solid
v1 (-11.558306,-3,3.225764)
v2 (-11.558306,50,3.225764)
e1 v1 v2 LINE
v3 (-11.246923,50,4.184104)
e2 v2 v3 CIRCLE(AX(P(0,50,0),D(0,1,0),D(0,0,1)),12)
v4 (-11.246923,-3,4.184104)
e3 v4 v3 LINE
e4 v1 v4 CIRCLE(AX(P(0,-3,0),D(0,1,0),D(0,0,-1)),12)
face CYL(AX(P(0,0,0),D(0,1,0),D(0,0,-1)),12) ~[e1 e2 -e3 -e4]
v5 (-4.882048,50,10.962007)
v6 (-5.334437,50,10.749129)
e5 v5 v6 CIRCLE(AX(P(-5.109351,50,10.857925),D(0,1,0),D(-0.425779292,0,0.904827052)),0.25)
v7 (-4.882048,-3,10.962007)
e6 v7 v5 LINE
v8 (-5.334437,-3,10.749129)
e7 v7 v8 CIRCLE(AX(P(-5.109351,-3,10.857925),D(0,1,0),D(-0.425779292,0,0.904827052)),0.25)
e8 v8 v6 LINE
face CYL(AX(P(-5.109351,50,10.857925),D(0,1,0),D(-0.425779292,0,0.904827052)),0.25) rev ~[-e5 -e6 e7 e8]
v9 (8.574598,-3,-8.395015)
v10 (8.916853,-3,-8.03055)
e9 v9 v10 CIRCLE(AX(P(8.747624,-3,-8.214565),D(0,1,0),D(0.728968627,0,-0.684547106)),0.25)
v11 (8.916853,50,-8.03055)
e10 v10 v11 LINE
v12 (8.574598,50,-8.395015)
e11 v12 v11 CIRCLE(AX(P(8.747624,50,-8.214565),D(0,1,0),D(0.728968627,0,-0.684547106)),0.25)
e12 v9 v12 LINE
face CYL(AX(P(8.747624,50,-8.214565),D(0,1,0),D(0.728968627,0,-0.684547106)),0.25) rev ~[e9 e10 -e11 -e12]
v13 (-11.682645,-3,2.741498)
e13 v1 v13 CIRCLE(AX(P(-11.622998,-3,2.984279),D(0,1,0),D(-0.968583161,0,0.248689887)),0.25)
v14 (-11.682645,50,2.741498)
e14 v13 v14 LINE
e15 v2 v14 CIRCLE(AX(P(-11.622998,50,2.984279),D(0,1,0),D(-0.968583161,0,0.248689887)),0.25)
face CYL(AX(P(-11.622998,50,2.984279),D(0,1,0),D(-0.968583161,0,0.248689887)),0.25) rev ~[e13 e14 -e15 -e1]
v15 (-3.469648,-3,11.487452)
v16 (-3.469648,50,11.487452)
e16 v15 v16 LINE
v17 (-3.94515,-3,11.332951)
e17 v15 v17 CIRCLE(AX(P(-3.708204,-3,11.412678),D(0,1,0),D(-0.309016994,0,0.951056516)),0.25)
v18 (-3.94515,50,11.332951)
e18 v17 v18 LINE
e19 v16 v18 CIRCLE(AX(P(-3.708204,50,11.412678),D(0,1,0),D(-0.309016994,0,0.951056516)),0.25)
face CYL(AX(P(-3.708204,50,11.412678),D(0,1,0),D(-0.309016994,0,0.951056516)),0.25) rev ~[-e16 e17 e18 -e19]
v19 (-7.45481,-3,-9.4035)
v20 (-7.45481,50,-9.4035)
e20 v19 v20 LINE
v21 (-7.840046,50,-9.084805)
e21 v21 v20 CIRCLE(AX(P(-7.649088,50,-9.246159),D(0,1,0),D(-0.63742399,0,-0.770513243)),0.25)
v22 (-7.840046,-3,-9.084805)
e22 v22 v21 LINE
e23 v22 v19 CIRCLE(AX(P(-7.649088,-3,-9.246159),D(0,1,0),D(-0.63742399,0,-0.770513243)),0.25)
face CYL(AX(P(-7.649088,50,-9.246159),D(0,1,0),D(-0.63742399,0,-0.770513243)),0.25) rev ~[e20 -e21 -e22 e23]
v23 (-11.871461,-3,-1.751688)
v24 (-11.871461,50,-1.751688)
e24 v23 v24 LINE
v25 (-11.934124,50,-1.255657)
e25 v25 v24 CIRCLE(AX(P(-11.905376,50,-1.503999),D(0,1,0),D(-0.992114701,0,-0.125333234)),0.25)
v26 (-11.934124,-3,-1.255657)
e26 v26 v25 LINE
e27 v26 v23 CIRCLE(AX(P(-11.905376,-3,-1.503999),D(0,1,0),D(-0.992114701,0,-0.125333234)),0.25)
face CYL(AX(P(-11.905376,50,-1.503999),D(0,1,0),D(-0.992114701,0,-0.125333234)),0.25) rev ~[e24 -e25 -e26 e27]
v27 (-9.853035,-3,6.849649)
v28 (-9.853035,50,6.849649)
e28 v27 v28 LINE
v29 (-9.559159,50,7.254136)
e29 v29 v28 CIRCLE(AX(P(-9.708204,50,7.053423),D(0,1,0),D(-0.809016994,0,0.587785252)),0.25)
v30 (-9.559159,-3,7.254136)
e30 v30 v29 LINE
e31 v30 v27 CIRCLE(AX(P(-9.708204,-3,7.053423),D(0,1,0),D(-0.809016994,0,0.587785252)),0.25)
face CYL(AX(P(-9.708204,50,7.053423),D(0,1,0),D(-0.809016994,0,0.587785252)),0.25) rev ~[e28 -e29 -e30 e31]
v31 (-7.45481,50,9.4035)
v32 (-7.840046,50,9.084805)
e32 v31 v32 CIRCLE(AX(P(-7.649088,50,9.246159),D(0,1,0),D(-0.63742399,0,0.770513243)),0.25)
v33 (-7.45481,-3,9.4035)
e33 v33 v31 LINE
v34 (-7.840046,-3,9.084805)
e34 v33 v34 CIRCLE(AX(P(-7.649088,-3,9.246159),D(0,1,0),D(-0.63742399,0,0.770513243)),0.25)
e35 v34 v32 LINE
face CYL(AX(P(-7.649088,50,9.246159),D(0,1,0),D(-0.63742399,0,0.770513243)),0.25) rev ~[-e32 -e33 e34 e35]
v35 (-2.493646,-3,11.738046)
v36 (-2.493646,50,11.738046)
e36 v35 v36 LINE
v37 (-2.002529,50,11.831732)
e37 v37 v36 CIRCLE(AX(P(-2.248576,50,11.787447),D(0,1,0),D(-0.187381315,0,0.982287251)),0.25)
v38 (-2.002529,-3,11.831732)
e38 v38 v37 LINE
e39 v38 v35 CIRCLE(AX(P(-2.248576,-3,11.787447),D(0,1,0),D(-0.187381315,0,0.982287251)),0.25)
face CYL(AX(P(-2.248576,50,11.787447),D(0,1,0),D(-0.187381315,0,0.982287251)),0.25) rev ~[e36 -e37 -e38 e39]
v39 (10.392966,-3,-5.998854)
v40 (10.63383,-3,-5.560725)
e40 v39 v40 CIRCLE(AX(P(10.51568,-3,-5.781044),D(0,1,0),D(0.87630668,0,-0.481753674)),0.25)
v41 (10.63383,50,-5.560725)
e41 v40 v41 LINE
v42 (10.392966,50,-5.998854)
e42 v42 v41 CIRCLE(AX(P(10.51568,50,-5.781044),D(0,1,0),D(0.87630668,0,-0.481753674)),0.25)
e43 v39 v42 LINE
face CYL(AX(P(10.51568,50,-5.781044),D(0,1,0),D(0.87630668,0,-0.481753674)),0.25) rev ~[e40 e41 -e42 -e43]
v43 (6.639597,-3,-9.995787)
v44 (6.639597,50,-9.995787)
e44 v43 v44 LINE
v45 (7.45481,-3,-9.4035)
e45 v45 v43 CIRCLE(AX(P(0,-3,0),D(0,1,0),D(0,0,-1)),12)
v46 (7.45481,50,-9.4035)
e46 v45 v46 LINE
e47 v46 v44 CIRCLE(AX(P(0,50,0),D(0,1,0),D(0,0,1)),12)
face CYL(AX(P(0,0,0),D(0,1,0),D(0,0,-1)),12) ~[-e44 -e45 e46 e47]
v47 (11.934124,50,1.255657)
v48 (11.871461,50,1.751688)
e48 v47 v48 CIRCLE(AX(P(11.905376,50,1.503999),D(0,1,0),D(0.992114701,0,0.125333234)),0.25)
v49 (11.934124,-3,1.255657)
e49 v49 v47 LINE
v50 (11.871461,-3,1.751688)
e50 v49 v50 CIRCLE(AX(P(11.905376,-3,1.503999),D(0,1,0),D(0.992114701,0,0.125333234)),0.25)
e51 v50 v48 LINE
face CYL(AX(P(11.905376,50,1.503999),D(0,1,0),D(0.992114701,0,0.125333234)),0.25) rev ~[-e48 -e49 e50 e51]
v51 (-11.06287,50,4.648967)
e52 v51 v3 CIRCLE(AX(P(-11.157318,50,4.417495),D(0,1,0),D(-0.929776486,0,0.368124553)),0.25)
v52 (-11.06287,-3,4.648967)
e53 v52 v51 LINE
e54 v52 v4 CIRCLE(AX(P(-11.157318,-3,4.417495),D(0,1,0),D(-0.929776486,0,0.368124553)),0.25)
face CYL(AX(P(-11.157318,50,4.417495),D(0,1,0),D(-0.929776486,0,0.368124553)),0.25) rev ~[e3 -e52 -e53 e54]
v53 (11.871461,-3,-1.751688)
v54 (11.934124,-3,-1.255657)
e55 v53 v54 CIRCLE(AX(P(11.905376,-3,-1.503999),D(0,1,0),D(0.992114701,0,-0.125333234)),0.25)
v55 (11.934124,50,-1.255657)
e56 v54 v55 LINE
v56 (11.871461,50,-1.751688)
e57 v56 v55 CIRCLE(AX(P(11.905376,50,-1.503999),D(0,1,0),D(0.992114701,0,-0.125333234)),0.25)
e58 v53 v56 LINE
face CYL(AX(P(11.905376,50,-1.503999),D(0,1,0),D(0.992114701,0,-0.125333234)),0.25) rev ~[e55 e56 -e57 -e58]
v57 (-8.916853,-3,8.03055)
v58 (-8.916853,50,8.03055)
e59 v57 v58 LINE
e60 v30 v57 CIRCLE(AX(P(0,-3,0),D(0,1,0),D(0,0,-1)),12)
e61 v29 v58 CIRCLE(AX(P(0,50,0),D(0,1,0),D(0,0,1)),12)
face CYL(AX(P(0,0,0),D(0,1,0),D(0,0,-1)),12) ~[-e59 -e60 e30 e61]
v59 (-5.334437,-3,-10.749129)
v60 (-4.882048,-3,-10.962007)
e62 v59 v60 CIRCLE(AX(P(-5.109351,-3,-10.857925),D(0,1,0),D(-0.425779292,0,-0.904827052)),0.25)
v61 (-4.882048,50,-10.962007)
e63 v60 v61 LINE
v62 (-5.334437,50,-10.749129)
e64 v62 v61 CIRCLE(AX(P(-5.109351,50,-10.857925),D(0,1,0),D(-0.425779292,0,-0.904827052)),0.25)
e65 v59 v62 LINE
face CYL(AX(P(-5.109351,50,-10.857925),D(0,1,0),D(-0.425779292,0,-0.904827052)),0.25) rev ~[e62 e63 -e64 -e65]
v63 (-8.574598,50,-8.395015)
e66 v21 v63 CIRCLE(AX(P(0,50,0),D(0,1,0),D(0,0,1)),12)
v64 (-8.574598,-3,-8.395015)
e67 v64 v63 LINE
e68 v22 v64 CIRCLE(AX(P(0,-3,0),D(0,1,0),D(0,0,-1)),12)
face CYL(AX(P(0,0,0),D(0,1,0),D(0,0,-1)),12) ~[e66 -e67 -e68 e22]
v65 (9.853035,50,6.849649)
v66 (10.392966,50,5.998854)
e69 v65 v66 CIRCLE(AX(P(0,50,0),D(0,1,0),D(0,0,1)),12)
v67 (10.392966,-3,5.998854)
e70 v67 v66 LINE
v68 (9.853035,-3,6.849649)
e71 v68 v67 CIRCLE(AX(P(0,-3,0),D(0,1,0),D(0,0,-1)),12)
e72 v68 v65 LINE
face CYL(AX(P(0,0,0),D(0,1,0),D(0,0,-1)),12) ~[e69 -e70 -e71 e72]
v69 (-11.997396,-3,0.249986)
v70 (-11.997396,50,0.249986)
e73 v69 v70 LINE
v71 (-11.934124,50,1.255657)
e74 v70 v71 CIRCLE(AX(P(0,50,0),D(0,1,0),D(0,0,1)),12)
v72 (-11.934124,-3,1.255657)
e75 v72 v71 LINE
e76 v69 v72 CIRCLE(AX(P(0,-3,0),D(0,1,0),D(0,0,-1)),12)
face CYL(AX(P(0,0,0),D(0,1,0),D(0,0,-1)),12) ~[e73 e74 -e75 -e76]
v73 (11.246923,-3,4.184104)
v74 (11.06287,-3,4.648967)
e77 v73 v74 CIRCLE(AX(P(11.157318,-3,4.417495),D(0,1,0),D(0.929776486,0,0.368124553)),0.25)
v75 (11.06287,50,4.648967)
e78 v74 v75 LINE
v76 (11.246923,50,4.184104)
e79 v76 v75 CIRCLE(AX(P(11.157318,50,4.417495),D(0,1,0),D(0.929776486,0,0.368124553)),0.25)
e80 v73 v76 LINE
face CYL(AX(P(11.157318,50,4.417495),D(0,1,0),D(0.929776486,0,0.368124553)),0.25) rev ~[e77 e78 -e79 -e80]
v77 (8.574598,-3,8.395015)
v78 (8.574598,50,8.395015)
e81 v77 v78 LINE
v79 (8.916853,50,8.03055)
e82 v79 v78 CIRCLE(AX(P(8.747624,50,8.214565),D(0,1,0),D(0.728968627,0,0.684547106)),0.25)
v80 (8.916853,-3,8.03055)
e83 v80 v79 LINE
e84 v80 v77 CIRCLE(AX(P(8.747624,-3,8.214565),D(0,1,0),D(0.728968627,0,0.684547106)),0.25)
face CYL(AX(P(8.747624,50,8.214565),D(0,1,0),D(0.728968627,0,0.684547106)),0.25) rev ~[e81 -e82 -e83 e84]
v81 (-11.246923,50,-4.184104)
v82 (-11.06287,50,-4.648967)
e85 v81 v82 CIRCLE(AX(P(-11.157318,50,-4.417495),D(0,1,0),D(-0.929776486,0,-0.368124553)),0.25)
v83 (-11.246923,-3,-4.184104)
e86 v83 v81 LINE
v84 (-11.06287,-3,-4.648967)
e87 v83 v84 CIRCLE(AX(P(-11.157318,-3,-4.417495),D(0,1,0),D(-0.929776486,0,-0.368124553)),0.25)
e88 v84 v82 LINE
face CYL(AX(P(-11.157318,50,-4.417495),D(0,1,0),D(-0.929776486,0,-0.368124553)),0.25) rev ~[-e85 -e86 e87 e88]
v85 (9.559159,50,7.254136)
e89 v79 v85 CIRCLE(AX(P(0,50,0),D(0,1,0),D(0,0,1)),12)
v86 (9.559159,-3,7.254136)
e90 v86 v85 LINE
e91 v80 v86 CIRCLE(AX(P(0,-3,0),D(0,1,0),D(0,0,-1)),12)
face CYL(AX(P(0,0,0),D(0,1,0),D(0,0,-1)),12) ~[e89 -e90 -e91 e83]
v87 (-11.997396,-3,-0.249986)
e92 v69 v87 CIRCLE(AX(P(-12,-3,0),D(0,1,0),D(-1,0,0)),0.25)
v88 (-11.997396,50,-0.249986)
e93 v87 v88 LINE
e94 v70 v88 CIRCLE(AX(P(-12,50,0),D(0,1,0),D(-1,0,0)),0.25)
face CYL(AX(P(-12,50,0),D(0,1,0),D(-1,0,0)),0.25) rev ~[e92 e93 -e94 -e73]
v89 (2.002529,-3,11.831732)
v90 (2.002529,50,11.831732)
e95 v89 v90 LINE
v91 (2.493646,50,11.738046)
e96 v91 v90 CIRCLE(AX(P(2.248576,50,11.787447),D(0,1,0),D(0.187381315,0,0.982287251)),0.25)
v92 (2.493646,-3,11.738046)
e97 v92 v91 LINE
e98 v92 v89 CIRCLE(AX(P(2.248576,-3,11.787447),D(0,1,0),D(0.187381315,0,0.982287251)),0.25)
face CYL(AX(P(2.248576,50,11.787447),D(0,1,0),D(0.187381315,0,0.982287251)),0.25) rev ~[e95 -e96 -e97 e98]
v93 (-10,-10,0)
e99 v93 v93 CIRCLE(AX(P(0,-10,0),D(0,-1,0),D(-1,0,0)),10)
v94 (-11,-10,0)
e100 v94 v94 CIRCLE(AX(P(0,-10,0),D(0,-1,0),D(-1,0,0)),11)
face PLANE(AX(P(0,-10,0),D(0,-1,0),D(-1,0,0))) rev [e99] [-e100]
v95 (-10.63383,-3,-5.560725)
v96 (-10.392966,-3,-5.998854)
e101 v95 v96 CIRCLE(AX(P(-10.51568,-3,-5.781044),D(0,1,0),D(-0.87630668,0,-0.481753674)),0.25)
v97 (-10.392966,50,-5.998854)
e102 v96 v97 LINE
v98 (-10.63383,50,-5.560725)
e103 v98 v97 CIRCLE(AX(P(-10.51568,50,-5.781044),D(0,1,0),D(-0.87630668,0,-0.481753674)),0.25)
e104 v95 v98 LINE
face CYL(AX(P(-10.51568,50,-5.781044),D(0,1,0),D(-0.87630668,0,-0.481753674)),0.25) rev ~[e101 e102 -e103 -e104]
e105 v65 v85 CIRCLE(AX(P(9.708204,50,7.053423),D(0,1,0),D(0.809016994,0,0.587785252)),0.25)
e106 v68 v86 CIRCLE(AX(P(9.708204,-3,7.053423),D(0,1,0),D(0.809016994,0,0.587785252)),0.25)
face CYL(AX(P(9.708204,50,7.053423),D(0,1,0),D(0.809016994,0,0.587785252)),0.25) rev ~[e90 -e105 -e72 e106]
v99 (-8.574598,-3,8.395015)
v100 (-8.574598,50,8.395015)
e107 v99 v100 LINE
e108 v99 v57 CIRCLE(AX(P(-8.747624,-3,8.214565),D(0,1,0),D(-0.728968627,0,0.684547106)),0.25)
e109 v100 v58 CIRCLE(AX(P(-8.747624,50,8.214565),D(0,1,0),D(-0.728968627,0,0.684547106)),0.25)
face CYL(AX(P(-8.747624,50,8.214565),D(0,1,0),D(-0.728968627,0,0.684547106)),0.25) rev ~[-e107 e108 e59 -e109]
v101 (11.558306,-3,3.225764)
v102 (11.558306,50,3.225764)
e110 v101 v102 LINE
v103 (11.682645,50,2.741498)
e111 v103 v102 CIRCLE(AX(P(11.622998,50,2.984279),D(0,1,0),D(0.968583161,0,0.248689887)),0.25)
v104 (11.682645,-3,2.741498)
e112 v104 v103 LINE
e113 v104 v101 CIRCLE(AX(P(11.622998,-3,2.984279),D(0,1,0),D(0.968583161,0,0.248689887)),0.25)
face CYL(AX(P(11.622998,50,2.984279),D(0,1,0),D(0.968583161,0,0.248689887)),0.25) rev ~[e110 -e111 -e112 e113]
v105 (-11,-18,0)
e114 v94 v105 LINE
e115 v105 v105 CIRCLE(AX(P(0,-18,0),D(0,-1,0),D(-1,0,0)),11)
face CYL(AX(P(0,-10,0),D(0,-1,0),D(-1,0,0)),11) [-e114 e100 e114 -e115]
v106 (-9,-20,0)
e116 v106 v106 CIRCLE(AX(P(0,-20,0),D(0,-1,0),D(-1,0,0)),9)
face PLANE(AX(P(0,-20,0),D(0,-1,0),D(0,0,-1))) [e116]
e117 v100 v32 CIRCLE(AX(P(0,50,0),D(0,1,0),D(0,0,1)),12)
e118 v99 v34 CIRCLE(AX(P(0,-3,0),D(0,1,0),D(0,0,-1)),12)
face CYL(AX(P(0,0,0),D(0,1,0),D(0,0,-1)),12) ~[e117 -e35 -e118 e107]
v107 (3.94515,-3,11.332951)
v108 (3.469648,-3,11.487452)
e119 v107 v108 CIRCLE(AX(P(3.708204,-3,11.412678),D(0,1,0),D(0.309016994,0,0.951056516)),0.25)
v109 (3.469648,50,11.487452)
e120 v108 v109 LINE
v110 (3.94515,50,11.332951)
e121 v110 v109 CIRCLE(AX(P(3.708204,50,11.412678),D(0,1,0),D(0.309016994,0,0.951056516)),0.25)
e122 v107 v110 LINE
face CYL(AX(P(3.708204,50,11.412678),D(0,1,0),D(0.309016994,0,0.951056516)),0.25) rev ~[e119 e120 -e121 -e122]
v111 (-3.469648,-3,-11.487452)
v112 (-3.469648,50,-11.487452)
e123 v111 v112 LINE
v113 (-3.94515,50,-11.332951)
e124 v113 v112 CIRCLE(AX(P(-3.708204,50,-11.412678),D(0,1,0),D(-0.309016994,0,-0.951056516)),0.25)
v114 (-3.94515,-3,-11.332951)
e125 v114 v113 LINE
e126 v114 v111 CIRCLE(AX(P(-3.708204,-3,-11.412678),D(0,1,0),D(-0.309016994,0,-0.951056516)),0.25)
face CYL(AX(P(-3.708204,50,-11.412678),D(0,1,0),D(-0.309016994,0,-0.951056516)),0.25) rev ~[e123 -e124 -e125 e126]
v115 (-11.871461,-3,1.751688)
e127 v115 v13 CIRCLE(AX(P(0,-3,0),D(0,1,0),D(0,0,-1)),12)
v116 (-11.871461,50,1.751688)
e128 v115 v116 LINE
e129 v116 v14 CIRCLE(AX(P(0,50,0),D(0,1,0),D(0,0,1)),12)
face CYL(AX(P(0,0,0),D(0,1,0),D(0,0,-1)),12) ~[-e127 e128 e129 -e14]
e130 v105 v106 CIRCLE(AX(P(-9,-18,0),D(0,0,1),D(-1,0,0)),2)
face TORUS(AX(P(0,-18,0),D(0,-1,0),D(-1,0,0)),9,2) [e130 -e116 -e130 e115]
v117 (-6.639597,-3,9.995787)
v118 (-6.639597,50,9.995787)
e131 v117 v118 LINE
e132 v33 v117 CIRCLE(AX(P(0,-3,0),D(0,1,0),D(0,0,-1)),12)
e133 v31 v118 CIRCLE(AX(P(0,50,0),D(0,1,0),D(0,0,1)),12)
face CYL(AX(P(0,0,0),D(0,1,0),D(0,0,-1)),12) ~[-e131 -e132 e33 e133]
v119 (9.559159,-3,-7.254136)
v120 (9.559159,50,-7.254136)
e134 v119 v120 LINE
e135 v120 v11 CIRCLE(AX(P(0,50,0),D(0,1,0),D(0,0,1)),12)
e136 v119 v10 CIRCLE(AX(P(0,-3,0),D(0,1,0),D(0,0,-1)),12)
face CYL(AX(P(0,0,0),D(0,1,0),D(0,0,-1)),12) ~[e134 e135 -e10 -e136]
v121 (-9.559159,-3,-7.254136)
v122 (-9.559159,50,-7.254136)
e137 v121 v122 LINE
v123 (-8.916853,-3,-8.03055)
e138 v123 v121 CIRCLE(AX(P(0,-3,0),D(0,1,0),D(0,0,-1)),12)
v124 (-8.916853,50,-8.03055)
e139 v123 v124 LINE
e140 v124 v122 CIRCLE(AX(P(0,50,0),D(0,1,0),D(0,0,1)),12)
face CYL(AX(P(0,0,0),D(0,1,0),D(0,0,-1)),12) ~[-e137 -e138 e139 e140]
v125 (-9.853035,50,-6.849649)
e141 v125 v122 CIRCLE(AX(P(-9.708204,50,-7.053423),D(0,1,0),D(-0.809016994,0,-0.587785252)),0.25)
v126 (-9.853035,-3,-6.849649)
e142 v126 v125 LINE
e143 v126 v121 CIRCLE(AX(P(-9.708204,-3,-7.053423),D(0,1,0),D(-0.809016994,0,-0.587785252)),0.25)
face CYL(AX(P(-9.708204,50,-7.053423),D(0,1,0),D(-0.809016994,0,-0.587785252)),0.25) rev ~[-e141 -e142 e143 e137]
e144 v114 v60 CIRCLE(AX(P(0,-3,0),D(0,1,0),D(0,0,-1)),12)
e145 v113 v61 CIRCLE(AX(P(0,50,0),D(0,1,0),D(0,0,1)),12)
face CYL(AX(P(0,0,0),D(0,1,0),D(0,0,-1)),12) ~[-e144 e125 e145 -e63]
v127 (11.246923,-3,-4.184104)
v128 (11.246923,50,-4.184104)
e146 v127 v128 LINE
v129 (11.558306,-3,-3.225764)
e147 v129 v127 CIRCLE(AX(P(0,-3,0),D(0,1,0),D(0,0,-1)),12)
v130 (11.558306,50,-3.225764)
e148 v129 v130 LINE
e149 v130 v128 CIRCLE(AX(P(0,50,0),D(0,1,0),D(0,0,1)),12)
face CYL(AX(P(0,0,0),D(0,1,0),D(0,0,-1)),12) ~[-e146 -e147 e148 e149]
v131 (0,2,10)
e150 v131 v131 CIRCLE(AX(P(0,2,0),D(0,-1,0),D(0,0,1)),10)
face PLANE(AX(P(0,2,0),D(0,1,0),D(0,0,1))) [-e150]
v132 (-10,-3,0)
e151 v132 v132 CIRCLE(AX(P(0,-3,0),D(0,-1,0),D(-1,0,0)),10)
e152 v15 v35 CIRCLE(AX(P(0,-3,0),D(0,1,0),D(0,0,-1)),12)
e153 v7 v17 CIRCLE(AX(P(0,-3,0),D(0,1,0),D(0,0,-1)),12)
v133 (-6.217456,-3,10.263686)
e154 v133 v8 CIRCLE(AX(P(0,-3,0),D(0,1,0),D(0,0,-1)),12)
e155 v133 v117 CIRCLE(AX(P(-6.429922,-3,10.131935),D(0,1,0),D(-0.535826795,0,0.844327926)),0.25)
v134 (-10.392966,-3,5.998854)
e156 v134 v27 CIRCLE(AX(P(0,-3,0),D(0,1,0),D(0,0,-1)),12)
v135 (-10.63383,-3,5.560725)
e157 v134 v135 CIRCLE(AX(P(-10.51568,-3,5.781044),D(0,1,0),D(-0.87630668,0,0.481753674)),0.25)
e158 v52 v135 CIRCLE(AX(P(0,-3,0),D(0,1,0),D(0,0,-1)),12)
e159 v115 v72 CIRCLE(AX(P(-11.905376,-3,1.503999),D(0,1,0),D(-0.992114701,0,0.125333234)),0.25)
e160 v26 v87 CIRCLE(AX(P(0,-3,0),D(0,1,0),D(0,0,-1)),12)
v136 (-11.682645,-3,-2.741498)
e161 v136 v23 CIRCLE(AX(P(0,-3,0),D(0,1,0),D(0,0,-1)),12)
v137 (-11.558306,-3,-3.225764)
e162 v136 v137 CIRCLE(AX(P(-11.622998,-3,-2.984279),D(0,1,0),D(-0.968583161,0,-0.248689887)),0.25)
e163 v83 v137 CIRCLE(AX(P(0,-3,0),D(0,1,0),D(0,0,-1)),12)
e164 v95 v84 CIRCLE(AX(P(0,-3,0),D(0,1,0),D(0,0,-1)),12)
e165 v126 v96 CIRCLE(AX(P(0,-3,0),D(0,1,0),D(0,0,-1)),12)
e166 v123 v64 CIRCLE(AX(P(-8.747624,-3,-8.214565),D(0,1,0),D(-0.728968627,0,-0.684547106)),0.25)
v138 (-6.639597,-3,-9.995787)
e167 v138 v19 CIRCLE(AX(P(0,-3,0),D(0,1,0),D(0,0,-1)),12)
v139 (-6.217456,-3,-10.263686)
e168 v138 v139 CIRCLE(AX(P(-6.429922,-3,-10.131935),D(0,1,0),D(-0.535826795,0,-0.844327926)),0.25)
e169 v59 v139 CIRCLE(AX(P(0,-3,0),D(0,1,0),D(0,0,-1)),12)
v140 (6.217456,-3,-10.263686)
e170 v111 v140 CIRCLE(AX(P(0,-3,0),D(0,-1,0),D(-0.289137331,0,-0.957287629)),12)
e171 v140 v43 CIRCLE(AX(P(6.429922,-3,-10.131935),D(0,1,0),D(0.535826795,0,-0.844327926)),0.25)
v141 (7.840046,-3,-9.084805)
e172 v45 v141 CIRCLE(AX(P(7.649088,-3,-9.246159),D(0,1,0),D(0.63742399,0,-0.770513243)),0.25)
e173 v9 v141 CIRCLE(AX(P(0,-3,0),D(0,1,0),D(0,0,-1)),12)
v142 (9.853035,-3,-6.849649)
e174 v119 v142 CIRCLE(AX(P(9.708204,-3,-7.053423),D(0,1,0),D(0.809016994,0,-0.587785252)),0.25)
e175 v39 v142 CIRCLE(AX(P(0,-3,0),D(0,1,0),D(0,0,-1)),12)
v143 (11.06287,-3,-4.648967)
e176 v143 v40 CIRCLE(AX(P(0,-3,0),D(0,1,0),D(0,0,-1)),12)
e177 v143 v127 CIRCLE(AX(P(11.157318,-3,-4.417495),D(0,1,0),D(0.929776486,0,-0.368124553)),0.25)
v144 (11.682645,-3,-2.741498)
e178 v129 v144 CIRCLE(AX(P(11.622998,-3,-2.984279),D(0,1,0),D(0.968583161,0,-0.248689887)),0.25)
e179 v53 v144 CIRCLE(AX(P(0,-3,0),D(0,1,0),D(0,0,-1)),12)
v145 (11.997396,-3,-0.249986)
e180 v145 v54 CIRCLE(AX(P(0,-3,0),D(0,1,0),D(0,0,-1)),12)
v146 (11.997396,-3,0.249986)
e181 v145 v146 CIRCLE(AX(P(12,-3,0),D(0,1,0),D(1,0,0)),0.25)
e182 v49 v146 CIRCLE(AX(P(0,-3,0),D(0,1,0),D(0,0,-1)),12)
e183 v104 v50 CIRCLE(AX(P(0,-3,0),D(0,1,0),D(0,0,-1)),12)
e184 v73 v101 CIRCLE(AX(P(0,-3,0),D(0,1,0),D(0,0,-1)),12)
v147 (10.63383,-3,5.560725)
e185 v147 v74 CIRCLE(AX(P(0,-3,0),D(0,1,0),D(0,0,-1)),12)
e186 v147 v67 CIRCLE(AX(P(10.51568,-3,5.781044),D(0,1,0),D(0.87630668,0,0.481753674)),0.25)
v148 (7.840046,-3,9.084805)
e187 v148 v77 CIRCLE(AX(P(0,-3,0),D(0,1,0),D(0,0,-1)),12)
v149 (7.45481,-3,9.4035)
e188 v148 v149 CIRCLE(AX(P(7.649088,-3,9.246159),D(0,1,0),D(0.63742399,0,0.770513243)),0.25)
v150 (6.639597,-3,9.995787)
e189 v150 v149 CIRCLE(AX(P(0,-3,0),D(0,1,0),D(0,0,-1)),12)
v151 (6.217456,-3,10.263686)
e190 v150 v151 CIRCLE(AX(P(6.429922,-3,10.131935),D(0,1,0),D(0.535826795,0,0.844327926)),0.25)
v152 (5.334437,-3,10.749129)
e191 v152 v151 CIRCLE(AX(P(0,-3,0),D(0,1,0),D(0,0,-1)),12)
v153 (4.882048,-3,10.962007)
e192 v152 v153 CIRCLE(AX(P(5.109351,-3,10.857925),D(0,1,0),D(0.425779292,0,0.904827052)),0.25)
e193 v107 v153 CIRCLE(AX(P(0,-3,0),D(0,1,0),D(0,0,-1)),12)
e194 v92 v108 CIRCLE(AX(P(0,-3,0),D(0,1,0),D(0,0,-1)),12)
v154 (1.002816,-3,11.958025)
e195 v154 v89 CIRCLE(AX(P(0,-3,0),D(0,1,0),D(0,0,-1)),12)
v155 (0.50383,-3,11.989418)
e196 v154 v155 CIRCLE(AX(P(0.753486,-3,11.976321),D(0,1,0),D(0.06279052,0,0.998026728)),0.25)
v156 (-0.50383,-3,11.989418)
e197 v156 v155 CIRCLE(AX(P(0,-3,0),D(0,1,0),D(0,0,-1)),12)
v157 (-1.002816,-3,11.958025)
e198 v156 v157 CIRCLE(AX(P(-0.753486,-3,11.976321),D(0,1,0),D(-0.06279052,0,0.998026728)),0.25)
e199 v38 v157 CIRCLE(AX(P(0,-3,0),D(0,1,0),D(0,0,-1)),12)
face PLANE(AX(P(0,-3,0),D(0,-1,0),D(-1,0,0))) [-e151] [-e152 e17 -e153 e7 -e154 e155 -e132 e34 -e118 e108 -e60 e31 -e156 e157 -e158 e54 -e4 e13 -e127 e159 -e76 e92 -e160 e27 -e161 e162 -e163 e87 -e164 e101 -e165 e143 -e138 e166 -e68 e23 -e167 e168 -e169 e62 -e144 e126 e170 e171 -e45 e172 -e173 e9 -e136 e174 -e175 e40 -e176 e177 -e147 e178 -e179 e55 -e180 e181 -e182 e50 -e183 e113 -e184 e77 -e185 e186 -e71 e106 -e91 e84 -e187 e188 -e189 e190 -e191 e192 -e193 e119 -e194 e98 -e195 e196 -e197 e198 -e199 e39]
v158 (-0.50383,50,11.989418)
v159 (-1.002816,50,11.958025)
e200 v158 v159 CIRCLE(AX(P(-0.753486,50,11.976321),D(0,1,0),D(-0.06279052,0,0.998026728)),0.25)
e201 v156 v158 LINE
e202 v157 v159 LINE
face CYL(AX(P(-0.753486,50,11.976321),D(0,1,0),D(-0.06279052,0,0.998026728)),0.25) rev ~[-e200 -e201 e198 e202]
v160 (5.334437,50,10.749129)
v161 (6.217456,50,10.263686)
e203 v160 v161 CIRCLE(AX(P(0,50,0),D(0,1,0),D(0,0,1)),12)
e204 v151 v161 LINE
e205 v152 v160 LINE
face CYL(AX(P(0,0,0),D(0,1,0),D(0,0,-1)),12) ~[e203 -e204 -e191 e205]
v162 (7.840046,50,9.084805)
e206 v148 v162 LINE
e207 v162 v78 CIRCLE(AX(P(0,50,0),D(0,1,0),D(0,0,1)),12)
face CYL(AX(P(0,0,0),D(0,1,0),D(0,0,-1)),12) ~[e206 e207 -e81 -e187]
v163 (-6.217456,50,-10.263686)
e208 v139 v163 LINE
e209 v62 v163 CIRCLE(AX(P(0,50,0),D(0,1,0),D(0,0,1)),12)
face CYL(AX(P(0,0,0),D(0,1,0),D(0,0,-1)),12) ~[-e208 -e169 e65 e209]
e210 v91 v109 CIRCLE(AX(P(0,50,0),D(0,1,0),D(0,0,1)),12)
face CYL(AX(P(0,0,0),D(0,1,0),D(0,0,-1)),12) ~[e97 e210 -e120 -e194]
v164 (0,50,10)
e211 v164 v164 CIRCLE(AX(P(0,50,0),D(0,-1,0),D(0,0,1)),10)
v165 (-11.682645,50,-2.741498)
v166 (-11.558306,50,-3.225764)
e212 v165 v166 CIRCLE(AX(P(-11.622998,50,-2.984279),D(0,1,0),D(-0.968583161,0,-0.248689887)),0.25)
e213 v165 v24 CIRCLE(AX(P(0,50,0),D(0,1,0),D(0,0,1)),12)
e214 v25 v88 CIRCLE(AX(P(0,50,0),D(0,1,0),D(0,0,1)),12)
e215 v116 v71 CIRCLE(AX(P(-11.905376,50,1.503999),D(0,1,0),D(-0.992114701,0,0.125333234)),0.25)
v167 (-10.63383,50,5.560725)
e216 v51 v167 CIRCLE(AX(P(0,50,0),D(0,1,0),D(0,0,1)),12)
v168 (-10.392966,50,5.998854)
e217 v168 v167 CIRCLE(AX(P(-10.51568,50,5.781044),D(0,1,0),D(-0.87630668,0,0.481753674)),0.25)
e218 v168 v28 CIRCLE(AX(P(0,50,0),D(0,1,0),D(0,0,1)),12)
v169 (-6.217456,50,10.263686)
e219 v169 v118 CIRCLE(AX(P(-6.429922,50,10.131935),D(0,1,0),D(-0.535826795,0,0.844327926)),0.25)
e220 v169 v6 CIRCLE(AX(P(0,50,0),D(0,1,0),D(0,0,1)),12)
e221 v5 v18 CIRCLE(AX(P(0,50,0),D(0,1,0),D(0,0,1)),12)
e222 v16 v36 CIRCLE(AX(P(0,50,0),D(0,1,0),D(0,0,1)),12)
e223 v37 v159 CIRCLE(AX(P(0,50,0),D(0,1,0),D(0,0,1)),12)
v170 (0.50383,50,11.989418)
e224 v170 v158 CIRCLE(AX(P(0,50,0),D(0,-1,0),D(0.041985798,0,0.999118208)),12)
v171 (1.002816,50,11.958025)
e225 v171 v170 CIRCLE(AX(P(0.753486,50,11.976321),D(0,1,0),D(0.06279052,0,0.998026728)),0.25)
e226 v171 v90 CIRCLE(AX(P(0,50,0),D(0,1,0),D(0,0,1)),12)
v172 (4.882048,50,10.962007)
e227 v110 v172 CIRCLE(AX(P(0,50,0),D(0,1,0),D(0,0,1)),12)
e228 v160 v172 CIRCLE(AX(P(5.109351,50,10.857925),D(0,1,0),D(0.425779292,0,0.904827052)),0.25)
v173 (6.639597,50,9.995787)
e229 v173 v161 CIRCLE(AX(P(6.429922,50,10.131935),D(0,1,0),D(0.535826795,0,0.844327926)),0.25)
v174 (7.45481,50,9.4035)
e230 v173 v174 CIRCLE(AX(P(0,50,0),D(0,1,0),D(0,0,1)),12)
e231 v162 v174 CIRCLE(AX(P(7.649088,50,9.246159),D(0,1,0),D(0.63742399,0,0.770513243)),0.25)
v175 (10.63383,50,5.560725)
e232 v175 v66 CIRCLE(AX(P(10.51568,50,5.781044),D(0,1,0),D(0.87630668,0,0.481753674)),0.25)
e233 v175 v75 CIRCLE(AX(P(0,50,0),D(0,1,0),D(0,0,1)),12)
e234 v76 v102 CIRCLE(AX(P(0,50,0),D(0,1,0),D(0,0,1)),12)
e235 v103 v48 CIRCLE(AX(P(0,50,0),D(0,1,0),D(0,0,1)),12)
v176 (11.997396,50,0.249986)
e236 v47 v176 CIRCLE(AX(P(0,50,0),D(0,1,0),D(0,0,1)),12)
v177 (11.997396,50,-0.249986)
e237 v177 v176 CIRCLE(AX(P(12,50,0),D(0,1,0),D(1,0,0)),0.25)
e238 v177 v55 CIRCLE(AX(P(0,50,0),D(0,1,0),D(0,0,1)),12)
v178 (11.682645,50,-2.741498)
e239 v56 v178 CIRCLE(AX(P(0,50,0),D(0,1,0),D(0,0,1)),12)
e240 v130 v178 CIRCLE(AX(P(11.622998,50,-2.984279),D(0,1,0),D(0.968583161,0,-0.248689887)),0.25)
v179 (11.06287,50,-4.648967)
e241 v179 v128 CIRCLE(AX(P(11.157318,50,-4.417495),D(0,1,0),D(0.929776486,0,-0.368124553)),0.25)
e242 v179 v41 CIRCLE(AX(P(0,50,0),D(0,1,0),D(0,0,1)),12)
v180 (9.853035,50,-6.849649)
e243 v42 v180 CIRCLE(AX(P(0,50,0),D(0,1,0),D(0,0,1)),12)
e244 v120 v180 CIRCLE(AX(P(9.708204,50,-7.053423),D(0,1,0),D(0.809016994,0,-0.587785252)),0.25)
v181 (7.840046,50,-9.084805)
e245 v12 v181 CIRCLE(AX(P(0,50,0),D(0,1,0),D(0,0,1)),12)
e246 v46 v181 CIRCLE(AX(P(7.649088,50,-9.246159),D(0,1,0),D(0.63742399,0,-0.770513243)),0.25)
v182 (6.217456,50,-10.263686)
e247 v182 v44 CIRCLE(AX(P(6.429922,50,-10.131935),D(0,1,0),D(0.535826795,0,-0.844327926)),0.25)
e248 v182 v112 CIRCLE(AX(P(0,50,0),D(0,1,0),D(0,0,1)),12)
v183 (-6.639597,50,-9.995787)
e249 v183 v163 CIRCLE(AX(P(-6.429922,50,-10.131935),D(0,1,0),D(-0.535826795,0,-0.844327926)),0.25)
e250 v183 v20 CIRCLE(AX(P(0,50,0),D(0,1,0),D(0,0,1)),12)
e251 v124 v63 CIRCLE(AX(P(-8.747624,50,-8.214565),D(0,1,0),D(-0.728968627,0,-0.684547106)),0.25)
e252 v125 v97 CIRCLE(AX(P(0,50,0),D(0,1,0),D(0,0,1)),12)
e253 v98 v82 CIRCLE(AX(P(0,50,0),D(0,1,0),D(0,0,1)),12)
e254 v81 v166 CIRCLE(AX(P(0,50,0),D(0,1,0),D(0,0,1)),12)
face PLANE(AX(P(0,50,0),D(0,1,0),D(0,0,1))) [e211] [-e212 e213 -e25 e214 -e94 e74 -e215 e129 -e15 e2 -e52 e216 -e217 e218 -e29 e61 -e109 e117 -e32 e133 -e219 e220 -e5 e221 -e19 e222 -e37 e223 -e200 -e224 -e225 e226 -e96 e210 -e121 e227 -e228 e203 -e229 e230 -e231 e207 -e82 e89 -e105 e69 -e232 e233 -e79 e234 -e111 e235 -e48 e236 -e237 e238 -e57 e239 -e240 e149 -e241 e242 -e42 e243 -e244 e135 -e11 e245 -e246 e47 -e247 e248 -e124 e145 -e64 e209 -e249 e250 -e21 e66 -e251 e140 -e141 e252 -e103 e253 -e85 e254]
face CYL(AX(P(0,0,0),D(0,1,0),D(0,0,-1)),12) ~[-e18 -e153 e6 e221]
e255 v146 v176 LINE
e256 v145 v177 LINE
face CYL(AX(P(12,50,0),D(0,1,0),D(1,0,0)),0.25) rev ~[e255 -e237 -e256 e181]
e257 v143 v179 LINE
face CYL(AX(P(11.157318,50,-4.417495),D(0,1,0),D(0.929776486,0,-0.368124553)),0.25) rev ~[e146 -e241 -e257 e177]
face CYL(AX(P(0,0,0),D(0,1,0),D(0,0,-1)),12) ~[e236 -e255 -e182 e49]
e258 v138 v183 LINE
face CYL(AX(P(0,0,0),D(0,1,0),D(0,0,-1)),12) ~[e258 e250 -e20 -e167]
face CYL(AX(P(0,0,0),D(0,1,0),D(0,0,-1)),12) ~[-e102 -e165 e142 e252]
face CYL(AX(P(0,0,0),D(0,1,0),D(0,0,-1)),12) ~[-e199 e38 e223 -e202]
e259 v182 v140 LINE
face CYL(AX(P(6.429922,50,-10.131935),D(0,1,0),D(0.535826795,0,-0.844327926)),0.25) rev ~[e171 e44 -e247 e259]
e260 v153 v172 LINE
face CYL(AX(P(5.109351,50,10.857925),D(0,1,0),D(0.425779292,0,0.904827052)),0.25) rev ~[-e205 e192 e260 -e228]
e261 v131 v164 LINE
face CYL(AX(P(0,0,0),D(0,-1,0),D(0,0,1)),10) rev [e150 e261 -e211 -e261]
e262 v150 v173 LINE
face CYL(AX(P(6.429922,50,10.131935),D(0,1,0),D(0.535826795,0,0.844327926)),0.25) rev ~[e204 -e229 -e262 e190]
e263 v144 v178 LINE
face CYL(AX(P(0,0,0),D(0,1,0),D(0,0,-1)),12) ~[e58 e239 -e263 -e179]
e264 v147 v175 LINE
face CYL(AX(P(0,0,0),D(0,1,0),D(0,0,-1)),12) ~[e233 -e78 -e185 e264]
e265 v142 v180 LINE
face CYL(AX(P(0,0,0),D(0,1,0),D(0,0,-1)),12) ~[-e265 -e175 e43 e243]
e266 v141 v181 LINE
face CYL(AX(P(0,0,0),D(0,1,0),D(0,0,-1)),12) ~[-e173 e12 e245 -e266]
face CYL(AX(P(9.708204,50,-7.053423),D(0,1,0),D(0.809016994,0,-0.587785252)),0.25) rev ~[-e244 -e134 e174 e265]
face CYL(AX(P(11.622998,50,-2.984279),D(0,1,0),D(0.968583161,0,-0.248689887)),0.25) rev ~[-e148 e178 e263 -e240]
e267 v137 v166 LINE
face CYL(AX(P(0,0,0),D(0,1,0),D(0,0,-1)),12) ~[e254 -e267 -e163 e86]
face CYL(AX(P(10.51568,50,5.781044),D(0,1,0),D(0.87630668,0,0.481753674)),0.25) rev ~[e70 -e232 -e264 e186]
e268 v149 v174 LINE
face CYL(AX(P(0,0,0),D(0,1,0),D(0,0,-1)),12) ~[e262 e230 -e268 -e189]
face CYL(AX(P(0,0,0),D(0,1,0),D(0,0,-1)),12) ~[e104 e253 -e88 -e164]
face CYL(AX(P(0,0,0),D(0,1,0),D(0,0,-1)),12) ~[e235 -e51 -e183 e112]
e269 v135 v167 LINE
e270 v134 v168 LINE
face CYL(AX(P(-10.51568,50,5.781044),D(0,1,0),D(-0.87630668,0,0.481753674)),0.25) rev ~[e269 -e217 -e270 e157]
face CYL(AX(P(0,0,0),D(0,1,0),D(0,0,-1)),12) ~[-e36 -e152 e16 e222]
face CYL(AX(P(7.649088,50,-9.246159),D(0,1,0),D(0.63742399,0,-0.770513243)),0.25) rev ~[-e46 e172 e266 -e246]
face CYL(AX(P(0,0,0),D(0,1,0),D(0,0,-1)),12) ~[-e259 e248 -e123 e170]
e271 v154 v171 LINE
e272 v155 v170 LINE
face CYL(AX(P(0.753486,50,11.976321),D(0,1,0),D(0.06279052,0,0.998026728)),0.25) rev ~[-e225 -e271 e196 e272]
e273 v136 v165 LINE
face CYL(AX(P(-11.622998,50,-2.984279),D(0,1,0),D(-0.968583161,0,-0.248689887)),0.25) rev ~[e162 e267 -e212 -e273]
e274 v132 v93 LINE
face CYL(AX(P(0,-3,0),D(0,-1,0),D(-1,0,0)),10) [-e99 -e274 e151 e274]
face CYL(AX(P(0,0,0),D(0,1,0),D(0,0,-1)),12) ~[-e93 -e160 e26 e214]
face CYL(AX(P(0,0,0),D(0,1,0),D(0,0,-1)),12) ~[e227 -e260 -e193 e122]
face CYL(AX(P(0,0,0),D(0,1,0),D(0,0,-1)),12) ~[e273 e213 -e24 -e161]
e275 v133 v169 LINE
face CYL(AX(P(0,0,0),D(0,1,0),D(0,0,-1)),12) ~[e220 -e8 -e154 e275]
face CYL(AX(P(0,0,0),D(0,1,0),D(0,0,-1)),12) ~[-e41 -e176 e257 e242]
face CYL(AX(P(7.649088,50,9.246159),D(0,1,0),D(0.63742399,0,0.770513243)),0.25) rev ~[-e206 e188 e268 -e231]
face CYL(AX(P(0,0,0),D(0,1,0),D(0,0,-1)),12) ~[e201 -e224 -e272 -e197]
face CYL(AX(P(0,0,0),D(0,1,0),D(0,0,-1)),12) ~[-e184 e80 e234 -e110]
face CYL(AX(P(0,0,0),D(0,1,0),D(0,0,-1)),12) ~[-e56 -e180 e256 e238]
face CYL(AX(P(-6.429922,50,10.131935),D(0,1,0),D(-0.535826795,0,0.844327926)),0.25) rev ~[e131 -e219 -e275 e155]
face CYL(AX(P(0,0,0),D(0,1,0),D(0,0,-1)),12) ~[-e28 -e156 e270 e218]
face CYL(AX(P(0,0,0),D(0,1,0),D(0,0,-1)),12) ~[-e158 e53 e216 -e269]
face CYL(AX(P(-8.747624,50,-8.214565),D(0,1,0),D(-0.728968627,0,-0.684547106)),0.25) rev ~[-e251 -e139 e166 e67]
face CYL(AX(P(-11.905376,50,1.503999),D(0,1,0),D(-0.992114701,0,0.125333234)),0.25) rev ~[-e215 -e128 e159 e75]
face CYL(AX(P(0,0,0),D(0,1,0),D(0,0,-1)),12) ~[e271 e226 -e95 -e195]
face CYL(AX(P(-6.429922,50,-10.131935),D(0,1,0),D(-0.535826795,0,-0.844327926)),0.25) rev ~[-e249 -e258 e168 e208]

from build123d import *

# Parameters (mm, degrees)
SKETCH_1_R               = 12
EXTRUDE_1_DEPTH          = 50
SHELL_3_T                = -2
SKETCH_2_R               = 12
EXTRUDE_2_DEPTH          = 20
FILLET_1_R               = 2
SKETCH_5_R               = 0.25
CUT_EXTRUDE_1_DEPTH      = 54
PATTERN_CIRCULAR_1_COUNT = 50


with BuildPart() as part:
    # 草图1 → 凸台-拉伸1 (new body)
    with BuildSketch(Plane(origin=(0, 0, 0), x_dir=(1, 0, 0), z_dir=(0, 1, 0))):
        with Locations(Location((0, 0, 0), (0, 0, 270))):
            Circle(SKETCH_1_R)
    extrude(amount=EXTRUDE_1_DEPTH)

    # 抽壳3
    shell_3_openings = [part.faces().sort_by_distance(p)[0] for p in [
        (0, 50, 0),
    ]]
    offset(amount=SHELL_3_T, openings=shell_3_openings, kind=Kind.INTERSECTION)

    # 草图2 → 凸台-拉伸2 (add)
    with BuildSketch(Plane.XZ):
        with Locations(Location((0, 0, 0), (0, 0, 270))):
            Circle(SKETCH_2_R)
    extrude(amount=EXTRUDE_2_DEPTH)

    # 草图3 → 切除-旋转1 (revolve, cut)
    with BuildSketch(Plane.XY, mode=Mode.PRIVATE) as cut_revolve_1_sk:
        Polygon((11, -10), (11, -20), (12.743043998, -20), (12.743043998, -3), (10, -3), (10, -10), align=None)
    revolve(cut_revolve_1_sk.sketch.rotate(Axis((0, -0.535575004, 0), (0, -1, 0)), 180), axis=Axis((0, -0.535575004, 0), (0, -1, 0)), mode=Mode.SUBTRACT)

    # 圆角1
    fillet_1_edges = [part.edges().sort_by_distance(p)[0] for p in [
        (11, -20, 0),
    ]]
    fillet(fillet_1_edges, radius=FILLET_1_R)

    # 草图5 → 切除-拉伸1 (cut)
    with BuildSketch(Plane(origin=(0, 50, 0), x_dir=(1, 0, 0), z_dir=(0, 1, 0))):
        with Locations((12, 0)):
            Circle(SKETCH_5_R)
    cut_extrude_1 = extrude(amount=-CUT_EXTRUDE_1_DEPTH, mode=Mode.SUBTRACT)

    # 阵列(圆周)1: 切除-拉伸1 ×50 about axis, 6 skipped
    pattern_circular_1_axis = Axis((0, 0, 0), (0, -1, 0))
    add([cut_extrude_1.rotate(pattern_circular_1_axis, i * 360 / PATTERN_CIRCULAR_1_COUNT) for i in range(1, PATTERN_CIRCULAR_1_COUNT) if i not in (36, 37, 38, 39, 40, 41)], mode=Mode.SUBTRACT)


solid = part.part
